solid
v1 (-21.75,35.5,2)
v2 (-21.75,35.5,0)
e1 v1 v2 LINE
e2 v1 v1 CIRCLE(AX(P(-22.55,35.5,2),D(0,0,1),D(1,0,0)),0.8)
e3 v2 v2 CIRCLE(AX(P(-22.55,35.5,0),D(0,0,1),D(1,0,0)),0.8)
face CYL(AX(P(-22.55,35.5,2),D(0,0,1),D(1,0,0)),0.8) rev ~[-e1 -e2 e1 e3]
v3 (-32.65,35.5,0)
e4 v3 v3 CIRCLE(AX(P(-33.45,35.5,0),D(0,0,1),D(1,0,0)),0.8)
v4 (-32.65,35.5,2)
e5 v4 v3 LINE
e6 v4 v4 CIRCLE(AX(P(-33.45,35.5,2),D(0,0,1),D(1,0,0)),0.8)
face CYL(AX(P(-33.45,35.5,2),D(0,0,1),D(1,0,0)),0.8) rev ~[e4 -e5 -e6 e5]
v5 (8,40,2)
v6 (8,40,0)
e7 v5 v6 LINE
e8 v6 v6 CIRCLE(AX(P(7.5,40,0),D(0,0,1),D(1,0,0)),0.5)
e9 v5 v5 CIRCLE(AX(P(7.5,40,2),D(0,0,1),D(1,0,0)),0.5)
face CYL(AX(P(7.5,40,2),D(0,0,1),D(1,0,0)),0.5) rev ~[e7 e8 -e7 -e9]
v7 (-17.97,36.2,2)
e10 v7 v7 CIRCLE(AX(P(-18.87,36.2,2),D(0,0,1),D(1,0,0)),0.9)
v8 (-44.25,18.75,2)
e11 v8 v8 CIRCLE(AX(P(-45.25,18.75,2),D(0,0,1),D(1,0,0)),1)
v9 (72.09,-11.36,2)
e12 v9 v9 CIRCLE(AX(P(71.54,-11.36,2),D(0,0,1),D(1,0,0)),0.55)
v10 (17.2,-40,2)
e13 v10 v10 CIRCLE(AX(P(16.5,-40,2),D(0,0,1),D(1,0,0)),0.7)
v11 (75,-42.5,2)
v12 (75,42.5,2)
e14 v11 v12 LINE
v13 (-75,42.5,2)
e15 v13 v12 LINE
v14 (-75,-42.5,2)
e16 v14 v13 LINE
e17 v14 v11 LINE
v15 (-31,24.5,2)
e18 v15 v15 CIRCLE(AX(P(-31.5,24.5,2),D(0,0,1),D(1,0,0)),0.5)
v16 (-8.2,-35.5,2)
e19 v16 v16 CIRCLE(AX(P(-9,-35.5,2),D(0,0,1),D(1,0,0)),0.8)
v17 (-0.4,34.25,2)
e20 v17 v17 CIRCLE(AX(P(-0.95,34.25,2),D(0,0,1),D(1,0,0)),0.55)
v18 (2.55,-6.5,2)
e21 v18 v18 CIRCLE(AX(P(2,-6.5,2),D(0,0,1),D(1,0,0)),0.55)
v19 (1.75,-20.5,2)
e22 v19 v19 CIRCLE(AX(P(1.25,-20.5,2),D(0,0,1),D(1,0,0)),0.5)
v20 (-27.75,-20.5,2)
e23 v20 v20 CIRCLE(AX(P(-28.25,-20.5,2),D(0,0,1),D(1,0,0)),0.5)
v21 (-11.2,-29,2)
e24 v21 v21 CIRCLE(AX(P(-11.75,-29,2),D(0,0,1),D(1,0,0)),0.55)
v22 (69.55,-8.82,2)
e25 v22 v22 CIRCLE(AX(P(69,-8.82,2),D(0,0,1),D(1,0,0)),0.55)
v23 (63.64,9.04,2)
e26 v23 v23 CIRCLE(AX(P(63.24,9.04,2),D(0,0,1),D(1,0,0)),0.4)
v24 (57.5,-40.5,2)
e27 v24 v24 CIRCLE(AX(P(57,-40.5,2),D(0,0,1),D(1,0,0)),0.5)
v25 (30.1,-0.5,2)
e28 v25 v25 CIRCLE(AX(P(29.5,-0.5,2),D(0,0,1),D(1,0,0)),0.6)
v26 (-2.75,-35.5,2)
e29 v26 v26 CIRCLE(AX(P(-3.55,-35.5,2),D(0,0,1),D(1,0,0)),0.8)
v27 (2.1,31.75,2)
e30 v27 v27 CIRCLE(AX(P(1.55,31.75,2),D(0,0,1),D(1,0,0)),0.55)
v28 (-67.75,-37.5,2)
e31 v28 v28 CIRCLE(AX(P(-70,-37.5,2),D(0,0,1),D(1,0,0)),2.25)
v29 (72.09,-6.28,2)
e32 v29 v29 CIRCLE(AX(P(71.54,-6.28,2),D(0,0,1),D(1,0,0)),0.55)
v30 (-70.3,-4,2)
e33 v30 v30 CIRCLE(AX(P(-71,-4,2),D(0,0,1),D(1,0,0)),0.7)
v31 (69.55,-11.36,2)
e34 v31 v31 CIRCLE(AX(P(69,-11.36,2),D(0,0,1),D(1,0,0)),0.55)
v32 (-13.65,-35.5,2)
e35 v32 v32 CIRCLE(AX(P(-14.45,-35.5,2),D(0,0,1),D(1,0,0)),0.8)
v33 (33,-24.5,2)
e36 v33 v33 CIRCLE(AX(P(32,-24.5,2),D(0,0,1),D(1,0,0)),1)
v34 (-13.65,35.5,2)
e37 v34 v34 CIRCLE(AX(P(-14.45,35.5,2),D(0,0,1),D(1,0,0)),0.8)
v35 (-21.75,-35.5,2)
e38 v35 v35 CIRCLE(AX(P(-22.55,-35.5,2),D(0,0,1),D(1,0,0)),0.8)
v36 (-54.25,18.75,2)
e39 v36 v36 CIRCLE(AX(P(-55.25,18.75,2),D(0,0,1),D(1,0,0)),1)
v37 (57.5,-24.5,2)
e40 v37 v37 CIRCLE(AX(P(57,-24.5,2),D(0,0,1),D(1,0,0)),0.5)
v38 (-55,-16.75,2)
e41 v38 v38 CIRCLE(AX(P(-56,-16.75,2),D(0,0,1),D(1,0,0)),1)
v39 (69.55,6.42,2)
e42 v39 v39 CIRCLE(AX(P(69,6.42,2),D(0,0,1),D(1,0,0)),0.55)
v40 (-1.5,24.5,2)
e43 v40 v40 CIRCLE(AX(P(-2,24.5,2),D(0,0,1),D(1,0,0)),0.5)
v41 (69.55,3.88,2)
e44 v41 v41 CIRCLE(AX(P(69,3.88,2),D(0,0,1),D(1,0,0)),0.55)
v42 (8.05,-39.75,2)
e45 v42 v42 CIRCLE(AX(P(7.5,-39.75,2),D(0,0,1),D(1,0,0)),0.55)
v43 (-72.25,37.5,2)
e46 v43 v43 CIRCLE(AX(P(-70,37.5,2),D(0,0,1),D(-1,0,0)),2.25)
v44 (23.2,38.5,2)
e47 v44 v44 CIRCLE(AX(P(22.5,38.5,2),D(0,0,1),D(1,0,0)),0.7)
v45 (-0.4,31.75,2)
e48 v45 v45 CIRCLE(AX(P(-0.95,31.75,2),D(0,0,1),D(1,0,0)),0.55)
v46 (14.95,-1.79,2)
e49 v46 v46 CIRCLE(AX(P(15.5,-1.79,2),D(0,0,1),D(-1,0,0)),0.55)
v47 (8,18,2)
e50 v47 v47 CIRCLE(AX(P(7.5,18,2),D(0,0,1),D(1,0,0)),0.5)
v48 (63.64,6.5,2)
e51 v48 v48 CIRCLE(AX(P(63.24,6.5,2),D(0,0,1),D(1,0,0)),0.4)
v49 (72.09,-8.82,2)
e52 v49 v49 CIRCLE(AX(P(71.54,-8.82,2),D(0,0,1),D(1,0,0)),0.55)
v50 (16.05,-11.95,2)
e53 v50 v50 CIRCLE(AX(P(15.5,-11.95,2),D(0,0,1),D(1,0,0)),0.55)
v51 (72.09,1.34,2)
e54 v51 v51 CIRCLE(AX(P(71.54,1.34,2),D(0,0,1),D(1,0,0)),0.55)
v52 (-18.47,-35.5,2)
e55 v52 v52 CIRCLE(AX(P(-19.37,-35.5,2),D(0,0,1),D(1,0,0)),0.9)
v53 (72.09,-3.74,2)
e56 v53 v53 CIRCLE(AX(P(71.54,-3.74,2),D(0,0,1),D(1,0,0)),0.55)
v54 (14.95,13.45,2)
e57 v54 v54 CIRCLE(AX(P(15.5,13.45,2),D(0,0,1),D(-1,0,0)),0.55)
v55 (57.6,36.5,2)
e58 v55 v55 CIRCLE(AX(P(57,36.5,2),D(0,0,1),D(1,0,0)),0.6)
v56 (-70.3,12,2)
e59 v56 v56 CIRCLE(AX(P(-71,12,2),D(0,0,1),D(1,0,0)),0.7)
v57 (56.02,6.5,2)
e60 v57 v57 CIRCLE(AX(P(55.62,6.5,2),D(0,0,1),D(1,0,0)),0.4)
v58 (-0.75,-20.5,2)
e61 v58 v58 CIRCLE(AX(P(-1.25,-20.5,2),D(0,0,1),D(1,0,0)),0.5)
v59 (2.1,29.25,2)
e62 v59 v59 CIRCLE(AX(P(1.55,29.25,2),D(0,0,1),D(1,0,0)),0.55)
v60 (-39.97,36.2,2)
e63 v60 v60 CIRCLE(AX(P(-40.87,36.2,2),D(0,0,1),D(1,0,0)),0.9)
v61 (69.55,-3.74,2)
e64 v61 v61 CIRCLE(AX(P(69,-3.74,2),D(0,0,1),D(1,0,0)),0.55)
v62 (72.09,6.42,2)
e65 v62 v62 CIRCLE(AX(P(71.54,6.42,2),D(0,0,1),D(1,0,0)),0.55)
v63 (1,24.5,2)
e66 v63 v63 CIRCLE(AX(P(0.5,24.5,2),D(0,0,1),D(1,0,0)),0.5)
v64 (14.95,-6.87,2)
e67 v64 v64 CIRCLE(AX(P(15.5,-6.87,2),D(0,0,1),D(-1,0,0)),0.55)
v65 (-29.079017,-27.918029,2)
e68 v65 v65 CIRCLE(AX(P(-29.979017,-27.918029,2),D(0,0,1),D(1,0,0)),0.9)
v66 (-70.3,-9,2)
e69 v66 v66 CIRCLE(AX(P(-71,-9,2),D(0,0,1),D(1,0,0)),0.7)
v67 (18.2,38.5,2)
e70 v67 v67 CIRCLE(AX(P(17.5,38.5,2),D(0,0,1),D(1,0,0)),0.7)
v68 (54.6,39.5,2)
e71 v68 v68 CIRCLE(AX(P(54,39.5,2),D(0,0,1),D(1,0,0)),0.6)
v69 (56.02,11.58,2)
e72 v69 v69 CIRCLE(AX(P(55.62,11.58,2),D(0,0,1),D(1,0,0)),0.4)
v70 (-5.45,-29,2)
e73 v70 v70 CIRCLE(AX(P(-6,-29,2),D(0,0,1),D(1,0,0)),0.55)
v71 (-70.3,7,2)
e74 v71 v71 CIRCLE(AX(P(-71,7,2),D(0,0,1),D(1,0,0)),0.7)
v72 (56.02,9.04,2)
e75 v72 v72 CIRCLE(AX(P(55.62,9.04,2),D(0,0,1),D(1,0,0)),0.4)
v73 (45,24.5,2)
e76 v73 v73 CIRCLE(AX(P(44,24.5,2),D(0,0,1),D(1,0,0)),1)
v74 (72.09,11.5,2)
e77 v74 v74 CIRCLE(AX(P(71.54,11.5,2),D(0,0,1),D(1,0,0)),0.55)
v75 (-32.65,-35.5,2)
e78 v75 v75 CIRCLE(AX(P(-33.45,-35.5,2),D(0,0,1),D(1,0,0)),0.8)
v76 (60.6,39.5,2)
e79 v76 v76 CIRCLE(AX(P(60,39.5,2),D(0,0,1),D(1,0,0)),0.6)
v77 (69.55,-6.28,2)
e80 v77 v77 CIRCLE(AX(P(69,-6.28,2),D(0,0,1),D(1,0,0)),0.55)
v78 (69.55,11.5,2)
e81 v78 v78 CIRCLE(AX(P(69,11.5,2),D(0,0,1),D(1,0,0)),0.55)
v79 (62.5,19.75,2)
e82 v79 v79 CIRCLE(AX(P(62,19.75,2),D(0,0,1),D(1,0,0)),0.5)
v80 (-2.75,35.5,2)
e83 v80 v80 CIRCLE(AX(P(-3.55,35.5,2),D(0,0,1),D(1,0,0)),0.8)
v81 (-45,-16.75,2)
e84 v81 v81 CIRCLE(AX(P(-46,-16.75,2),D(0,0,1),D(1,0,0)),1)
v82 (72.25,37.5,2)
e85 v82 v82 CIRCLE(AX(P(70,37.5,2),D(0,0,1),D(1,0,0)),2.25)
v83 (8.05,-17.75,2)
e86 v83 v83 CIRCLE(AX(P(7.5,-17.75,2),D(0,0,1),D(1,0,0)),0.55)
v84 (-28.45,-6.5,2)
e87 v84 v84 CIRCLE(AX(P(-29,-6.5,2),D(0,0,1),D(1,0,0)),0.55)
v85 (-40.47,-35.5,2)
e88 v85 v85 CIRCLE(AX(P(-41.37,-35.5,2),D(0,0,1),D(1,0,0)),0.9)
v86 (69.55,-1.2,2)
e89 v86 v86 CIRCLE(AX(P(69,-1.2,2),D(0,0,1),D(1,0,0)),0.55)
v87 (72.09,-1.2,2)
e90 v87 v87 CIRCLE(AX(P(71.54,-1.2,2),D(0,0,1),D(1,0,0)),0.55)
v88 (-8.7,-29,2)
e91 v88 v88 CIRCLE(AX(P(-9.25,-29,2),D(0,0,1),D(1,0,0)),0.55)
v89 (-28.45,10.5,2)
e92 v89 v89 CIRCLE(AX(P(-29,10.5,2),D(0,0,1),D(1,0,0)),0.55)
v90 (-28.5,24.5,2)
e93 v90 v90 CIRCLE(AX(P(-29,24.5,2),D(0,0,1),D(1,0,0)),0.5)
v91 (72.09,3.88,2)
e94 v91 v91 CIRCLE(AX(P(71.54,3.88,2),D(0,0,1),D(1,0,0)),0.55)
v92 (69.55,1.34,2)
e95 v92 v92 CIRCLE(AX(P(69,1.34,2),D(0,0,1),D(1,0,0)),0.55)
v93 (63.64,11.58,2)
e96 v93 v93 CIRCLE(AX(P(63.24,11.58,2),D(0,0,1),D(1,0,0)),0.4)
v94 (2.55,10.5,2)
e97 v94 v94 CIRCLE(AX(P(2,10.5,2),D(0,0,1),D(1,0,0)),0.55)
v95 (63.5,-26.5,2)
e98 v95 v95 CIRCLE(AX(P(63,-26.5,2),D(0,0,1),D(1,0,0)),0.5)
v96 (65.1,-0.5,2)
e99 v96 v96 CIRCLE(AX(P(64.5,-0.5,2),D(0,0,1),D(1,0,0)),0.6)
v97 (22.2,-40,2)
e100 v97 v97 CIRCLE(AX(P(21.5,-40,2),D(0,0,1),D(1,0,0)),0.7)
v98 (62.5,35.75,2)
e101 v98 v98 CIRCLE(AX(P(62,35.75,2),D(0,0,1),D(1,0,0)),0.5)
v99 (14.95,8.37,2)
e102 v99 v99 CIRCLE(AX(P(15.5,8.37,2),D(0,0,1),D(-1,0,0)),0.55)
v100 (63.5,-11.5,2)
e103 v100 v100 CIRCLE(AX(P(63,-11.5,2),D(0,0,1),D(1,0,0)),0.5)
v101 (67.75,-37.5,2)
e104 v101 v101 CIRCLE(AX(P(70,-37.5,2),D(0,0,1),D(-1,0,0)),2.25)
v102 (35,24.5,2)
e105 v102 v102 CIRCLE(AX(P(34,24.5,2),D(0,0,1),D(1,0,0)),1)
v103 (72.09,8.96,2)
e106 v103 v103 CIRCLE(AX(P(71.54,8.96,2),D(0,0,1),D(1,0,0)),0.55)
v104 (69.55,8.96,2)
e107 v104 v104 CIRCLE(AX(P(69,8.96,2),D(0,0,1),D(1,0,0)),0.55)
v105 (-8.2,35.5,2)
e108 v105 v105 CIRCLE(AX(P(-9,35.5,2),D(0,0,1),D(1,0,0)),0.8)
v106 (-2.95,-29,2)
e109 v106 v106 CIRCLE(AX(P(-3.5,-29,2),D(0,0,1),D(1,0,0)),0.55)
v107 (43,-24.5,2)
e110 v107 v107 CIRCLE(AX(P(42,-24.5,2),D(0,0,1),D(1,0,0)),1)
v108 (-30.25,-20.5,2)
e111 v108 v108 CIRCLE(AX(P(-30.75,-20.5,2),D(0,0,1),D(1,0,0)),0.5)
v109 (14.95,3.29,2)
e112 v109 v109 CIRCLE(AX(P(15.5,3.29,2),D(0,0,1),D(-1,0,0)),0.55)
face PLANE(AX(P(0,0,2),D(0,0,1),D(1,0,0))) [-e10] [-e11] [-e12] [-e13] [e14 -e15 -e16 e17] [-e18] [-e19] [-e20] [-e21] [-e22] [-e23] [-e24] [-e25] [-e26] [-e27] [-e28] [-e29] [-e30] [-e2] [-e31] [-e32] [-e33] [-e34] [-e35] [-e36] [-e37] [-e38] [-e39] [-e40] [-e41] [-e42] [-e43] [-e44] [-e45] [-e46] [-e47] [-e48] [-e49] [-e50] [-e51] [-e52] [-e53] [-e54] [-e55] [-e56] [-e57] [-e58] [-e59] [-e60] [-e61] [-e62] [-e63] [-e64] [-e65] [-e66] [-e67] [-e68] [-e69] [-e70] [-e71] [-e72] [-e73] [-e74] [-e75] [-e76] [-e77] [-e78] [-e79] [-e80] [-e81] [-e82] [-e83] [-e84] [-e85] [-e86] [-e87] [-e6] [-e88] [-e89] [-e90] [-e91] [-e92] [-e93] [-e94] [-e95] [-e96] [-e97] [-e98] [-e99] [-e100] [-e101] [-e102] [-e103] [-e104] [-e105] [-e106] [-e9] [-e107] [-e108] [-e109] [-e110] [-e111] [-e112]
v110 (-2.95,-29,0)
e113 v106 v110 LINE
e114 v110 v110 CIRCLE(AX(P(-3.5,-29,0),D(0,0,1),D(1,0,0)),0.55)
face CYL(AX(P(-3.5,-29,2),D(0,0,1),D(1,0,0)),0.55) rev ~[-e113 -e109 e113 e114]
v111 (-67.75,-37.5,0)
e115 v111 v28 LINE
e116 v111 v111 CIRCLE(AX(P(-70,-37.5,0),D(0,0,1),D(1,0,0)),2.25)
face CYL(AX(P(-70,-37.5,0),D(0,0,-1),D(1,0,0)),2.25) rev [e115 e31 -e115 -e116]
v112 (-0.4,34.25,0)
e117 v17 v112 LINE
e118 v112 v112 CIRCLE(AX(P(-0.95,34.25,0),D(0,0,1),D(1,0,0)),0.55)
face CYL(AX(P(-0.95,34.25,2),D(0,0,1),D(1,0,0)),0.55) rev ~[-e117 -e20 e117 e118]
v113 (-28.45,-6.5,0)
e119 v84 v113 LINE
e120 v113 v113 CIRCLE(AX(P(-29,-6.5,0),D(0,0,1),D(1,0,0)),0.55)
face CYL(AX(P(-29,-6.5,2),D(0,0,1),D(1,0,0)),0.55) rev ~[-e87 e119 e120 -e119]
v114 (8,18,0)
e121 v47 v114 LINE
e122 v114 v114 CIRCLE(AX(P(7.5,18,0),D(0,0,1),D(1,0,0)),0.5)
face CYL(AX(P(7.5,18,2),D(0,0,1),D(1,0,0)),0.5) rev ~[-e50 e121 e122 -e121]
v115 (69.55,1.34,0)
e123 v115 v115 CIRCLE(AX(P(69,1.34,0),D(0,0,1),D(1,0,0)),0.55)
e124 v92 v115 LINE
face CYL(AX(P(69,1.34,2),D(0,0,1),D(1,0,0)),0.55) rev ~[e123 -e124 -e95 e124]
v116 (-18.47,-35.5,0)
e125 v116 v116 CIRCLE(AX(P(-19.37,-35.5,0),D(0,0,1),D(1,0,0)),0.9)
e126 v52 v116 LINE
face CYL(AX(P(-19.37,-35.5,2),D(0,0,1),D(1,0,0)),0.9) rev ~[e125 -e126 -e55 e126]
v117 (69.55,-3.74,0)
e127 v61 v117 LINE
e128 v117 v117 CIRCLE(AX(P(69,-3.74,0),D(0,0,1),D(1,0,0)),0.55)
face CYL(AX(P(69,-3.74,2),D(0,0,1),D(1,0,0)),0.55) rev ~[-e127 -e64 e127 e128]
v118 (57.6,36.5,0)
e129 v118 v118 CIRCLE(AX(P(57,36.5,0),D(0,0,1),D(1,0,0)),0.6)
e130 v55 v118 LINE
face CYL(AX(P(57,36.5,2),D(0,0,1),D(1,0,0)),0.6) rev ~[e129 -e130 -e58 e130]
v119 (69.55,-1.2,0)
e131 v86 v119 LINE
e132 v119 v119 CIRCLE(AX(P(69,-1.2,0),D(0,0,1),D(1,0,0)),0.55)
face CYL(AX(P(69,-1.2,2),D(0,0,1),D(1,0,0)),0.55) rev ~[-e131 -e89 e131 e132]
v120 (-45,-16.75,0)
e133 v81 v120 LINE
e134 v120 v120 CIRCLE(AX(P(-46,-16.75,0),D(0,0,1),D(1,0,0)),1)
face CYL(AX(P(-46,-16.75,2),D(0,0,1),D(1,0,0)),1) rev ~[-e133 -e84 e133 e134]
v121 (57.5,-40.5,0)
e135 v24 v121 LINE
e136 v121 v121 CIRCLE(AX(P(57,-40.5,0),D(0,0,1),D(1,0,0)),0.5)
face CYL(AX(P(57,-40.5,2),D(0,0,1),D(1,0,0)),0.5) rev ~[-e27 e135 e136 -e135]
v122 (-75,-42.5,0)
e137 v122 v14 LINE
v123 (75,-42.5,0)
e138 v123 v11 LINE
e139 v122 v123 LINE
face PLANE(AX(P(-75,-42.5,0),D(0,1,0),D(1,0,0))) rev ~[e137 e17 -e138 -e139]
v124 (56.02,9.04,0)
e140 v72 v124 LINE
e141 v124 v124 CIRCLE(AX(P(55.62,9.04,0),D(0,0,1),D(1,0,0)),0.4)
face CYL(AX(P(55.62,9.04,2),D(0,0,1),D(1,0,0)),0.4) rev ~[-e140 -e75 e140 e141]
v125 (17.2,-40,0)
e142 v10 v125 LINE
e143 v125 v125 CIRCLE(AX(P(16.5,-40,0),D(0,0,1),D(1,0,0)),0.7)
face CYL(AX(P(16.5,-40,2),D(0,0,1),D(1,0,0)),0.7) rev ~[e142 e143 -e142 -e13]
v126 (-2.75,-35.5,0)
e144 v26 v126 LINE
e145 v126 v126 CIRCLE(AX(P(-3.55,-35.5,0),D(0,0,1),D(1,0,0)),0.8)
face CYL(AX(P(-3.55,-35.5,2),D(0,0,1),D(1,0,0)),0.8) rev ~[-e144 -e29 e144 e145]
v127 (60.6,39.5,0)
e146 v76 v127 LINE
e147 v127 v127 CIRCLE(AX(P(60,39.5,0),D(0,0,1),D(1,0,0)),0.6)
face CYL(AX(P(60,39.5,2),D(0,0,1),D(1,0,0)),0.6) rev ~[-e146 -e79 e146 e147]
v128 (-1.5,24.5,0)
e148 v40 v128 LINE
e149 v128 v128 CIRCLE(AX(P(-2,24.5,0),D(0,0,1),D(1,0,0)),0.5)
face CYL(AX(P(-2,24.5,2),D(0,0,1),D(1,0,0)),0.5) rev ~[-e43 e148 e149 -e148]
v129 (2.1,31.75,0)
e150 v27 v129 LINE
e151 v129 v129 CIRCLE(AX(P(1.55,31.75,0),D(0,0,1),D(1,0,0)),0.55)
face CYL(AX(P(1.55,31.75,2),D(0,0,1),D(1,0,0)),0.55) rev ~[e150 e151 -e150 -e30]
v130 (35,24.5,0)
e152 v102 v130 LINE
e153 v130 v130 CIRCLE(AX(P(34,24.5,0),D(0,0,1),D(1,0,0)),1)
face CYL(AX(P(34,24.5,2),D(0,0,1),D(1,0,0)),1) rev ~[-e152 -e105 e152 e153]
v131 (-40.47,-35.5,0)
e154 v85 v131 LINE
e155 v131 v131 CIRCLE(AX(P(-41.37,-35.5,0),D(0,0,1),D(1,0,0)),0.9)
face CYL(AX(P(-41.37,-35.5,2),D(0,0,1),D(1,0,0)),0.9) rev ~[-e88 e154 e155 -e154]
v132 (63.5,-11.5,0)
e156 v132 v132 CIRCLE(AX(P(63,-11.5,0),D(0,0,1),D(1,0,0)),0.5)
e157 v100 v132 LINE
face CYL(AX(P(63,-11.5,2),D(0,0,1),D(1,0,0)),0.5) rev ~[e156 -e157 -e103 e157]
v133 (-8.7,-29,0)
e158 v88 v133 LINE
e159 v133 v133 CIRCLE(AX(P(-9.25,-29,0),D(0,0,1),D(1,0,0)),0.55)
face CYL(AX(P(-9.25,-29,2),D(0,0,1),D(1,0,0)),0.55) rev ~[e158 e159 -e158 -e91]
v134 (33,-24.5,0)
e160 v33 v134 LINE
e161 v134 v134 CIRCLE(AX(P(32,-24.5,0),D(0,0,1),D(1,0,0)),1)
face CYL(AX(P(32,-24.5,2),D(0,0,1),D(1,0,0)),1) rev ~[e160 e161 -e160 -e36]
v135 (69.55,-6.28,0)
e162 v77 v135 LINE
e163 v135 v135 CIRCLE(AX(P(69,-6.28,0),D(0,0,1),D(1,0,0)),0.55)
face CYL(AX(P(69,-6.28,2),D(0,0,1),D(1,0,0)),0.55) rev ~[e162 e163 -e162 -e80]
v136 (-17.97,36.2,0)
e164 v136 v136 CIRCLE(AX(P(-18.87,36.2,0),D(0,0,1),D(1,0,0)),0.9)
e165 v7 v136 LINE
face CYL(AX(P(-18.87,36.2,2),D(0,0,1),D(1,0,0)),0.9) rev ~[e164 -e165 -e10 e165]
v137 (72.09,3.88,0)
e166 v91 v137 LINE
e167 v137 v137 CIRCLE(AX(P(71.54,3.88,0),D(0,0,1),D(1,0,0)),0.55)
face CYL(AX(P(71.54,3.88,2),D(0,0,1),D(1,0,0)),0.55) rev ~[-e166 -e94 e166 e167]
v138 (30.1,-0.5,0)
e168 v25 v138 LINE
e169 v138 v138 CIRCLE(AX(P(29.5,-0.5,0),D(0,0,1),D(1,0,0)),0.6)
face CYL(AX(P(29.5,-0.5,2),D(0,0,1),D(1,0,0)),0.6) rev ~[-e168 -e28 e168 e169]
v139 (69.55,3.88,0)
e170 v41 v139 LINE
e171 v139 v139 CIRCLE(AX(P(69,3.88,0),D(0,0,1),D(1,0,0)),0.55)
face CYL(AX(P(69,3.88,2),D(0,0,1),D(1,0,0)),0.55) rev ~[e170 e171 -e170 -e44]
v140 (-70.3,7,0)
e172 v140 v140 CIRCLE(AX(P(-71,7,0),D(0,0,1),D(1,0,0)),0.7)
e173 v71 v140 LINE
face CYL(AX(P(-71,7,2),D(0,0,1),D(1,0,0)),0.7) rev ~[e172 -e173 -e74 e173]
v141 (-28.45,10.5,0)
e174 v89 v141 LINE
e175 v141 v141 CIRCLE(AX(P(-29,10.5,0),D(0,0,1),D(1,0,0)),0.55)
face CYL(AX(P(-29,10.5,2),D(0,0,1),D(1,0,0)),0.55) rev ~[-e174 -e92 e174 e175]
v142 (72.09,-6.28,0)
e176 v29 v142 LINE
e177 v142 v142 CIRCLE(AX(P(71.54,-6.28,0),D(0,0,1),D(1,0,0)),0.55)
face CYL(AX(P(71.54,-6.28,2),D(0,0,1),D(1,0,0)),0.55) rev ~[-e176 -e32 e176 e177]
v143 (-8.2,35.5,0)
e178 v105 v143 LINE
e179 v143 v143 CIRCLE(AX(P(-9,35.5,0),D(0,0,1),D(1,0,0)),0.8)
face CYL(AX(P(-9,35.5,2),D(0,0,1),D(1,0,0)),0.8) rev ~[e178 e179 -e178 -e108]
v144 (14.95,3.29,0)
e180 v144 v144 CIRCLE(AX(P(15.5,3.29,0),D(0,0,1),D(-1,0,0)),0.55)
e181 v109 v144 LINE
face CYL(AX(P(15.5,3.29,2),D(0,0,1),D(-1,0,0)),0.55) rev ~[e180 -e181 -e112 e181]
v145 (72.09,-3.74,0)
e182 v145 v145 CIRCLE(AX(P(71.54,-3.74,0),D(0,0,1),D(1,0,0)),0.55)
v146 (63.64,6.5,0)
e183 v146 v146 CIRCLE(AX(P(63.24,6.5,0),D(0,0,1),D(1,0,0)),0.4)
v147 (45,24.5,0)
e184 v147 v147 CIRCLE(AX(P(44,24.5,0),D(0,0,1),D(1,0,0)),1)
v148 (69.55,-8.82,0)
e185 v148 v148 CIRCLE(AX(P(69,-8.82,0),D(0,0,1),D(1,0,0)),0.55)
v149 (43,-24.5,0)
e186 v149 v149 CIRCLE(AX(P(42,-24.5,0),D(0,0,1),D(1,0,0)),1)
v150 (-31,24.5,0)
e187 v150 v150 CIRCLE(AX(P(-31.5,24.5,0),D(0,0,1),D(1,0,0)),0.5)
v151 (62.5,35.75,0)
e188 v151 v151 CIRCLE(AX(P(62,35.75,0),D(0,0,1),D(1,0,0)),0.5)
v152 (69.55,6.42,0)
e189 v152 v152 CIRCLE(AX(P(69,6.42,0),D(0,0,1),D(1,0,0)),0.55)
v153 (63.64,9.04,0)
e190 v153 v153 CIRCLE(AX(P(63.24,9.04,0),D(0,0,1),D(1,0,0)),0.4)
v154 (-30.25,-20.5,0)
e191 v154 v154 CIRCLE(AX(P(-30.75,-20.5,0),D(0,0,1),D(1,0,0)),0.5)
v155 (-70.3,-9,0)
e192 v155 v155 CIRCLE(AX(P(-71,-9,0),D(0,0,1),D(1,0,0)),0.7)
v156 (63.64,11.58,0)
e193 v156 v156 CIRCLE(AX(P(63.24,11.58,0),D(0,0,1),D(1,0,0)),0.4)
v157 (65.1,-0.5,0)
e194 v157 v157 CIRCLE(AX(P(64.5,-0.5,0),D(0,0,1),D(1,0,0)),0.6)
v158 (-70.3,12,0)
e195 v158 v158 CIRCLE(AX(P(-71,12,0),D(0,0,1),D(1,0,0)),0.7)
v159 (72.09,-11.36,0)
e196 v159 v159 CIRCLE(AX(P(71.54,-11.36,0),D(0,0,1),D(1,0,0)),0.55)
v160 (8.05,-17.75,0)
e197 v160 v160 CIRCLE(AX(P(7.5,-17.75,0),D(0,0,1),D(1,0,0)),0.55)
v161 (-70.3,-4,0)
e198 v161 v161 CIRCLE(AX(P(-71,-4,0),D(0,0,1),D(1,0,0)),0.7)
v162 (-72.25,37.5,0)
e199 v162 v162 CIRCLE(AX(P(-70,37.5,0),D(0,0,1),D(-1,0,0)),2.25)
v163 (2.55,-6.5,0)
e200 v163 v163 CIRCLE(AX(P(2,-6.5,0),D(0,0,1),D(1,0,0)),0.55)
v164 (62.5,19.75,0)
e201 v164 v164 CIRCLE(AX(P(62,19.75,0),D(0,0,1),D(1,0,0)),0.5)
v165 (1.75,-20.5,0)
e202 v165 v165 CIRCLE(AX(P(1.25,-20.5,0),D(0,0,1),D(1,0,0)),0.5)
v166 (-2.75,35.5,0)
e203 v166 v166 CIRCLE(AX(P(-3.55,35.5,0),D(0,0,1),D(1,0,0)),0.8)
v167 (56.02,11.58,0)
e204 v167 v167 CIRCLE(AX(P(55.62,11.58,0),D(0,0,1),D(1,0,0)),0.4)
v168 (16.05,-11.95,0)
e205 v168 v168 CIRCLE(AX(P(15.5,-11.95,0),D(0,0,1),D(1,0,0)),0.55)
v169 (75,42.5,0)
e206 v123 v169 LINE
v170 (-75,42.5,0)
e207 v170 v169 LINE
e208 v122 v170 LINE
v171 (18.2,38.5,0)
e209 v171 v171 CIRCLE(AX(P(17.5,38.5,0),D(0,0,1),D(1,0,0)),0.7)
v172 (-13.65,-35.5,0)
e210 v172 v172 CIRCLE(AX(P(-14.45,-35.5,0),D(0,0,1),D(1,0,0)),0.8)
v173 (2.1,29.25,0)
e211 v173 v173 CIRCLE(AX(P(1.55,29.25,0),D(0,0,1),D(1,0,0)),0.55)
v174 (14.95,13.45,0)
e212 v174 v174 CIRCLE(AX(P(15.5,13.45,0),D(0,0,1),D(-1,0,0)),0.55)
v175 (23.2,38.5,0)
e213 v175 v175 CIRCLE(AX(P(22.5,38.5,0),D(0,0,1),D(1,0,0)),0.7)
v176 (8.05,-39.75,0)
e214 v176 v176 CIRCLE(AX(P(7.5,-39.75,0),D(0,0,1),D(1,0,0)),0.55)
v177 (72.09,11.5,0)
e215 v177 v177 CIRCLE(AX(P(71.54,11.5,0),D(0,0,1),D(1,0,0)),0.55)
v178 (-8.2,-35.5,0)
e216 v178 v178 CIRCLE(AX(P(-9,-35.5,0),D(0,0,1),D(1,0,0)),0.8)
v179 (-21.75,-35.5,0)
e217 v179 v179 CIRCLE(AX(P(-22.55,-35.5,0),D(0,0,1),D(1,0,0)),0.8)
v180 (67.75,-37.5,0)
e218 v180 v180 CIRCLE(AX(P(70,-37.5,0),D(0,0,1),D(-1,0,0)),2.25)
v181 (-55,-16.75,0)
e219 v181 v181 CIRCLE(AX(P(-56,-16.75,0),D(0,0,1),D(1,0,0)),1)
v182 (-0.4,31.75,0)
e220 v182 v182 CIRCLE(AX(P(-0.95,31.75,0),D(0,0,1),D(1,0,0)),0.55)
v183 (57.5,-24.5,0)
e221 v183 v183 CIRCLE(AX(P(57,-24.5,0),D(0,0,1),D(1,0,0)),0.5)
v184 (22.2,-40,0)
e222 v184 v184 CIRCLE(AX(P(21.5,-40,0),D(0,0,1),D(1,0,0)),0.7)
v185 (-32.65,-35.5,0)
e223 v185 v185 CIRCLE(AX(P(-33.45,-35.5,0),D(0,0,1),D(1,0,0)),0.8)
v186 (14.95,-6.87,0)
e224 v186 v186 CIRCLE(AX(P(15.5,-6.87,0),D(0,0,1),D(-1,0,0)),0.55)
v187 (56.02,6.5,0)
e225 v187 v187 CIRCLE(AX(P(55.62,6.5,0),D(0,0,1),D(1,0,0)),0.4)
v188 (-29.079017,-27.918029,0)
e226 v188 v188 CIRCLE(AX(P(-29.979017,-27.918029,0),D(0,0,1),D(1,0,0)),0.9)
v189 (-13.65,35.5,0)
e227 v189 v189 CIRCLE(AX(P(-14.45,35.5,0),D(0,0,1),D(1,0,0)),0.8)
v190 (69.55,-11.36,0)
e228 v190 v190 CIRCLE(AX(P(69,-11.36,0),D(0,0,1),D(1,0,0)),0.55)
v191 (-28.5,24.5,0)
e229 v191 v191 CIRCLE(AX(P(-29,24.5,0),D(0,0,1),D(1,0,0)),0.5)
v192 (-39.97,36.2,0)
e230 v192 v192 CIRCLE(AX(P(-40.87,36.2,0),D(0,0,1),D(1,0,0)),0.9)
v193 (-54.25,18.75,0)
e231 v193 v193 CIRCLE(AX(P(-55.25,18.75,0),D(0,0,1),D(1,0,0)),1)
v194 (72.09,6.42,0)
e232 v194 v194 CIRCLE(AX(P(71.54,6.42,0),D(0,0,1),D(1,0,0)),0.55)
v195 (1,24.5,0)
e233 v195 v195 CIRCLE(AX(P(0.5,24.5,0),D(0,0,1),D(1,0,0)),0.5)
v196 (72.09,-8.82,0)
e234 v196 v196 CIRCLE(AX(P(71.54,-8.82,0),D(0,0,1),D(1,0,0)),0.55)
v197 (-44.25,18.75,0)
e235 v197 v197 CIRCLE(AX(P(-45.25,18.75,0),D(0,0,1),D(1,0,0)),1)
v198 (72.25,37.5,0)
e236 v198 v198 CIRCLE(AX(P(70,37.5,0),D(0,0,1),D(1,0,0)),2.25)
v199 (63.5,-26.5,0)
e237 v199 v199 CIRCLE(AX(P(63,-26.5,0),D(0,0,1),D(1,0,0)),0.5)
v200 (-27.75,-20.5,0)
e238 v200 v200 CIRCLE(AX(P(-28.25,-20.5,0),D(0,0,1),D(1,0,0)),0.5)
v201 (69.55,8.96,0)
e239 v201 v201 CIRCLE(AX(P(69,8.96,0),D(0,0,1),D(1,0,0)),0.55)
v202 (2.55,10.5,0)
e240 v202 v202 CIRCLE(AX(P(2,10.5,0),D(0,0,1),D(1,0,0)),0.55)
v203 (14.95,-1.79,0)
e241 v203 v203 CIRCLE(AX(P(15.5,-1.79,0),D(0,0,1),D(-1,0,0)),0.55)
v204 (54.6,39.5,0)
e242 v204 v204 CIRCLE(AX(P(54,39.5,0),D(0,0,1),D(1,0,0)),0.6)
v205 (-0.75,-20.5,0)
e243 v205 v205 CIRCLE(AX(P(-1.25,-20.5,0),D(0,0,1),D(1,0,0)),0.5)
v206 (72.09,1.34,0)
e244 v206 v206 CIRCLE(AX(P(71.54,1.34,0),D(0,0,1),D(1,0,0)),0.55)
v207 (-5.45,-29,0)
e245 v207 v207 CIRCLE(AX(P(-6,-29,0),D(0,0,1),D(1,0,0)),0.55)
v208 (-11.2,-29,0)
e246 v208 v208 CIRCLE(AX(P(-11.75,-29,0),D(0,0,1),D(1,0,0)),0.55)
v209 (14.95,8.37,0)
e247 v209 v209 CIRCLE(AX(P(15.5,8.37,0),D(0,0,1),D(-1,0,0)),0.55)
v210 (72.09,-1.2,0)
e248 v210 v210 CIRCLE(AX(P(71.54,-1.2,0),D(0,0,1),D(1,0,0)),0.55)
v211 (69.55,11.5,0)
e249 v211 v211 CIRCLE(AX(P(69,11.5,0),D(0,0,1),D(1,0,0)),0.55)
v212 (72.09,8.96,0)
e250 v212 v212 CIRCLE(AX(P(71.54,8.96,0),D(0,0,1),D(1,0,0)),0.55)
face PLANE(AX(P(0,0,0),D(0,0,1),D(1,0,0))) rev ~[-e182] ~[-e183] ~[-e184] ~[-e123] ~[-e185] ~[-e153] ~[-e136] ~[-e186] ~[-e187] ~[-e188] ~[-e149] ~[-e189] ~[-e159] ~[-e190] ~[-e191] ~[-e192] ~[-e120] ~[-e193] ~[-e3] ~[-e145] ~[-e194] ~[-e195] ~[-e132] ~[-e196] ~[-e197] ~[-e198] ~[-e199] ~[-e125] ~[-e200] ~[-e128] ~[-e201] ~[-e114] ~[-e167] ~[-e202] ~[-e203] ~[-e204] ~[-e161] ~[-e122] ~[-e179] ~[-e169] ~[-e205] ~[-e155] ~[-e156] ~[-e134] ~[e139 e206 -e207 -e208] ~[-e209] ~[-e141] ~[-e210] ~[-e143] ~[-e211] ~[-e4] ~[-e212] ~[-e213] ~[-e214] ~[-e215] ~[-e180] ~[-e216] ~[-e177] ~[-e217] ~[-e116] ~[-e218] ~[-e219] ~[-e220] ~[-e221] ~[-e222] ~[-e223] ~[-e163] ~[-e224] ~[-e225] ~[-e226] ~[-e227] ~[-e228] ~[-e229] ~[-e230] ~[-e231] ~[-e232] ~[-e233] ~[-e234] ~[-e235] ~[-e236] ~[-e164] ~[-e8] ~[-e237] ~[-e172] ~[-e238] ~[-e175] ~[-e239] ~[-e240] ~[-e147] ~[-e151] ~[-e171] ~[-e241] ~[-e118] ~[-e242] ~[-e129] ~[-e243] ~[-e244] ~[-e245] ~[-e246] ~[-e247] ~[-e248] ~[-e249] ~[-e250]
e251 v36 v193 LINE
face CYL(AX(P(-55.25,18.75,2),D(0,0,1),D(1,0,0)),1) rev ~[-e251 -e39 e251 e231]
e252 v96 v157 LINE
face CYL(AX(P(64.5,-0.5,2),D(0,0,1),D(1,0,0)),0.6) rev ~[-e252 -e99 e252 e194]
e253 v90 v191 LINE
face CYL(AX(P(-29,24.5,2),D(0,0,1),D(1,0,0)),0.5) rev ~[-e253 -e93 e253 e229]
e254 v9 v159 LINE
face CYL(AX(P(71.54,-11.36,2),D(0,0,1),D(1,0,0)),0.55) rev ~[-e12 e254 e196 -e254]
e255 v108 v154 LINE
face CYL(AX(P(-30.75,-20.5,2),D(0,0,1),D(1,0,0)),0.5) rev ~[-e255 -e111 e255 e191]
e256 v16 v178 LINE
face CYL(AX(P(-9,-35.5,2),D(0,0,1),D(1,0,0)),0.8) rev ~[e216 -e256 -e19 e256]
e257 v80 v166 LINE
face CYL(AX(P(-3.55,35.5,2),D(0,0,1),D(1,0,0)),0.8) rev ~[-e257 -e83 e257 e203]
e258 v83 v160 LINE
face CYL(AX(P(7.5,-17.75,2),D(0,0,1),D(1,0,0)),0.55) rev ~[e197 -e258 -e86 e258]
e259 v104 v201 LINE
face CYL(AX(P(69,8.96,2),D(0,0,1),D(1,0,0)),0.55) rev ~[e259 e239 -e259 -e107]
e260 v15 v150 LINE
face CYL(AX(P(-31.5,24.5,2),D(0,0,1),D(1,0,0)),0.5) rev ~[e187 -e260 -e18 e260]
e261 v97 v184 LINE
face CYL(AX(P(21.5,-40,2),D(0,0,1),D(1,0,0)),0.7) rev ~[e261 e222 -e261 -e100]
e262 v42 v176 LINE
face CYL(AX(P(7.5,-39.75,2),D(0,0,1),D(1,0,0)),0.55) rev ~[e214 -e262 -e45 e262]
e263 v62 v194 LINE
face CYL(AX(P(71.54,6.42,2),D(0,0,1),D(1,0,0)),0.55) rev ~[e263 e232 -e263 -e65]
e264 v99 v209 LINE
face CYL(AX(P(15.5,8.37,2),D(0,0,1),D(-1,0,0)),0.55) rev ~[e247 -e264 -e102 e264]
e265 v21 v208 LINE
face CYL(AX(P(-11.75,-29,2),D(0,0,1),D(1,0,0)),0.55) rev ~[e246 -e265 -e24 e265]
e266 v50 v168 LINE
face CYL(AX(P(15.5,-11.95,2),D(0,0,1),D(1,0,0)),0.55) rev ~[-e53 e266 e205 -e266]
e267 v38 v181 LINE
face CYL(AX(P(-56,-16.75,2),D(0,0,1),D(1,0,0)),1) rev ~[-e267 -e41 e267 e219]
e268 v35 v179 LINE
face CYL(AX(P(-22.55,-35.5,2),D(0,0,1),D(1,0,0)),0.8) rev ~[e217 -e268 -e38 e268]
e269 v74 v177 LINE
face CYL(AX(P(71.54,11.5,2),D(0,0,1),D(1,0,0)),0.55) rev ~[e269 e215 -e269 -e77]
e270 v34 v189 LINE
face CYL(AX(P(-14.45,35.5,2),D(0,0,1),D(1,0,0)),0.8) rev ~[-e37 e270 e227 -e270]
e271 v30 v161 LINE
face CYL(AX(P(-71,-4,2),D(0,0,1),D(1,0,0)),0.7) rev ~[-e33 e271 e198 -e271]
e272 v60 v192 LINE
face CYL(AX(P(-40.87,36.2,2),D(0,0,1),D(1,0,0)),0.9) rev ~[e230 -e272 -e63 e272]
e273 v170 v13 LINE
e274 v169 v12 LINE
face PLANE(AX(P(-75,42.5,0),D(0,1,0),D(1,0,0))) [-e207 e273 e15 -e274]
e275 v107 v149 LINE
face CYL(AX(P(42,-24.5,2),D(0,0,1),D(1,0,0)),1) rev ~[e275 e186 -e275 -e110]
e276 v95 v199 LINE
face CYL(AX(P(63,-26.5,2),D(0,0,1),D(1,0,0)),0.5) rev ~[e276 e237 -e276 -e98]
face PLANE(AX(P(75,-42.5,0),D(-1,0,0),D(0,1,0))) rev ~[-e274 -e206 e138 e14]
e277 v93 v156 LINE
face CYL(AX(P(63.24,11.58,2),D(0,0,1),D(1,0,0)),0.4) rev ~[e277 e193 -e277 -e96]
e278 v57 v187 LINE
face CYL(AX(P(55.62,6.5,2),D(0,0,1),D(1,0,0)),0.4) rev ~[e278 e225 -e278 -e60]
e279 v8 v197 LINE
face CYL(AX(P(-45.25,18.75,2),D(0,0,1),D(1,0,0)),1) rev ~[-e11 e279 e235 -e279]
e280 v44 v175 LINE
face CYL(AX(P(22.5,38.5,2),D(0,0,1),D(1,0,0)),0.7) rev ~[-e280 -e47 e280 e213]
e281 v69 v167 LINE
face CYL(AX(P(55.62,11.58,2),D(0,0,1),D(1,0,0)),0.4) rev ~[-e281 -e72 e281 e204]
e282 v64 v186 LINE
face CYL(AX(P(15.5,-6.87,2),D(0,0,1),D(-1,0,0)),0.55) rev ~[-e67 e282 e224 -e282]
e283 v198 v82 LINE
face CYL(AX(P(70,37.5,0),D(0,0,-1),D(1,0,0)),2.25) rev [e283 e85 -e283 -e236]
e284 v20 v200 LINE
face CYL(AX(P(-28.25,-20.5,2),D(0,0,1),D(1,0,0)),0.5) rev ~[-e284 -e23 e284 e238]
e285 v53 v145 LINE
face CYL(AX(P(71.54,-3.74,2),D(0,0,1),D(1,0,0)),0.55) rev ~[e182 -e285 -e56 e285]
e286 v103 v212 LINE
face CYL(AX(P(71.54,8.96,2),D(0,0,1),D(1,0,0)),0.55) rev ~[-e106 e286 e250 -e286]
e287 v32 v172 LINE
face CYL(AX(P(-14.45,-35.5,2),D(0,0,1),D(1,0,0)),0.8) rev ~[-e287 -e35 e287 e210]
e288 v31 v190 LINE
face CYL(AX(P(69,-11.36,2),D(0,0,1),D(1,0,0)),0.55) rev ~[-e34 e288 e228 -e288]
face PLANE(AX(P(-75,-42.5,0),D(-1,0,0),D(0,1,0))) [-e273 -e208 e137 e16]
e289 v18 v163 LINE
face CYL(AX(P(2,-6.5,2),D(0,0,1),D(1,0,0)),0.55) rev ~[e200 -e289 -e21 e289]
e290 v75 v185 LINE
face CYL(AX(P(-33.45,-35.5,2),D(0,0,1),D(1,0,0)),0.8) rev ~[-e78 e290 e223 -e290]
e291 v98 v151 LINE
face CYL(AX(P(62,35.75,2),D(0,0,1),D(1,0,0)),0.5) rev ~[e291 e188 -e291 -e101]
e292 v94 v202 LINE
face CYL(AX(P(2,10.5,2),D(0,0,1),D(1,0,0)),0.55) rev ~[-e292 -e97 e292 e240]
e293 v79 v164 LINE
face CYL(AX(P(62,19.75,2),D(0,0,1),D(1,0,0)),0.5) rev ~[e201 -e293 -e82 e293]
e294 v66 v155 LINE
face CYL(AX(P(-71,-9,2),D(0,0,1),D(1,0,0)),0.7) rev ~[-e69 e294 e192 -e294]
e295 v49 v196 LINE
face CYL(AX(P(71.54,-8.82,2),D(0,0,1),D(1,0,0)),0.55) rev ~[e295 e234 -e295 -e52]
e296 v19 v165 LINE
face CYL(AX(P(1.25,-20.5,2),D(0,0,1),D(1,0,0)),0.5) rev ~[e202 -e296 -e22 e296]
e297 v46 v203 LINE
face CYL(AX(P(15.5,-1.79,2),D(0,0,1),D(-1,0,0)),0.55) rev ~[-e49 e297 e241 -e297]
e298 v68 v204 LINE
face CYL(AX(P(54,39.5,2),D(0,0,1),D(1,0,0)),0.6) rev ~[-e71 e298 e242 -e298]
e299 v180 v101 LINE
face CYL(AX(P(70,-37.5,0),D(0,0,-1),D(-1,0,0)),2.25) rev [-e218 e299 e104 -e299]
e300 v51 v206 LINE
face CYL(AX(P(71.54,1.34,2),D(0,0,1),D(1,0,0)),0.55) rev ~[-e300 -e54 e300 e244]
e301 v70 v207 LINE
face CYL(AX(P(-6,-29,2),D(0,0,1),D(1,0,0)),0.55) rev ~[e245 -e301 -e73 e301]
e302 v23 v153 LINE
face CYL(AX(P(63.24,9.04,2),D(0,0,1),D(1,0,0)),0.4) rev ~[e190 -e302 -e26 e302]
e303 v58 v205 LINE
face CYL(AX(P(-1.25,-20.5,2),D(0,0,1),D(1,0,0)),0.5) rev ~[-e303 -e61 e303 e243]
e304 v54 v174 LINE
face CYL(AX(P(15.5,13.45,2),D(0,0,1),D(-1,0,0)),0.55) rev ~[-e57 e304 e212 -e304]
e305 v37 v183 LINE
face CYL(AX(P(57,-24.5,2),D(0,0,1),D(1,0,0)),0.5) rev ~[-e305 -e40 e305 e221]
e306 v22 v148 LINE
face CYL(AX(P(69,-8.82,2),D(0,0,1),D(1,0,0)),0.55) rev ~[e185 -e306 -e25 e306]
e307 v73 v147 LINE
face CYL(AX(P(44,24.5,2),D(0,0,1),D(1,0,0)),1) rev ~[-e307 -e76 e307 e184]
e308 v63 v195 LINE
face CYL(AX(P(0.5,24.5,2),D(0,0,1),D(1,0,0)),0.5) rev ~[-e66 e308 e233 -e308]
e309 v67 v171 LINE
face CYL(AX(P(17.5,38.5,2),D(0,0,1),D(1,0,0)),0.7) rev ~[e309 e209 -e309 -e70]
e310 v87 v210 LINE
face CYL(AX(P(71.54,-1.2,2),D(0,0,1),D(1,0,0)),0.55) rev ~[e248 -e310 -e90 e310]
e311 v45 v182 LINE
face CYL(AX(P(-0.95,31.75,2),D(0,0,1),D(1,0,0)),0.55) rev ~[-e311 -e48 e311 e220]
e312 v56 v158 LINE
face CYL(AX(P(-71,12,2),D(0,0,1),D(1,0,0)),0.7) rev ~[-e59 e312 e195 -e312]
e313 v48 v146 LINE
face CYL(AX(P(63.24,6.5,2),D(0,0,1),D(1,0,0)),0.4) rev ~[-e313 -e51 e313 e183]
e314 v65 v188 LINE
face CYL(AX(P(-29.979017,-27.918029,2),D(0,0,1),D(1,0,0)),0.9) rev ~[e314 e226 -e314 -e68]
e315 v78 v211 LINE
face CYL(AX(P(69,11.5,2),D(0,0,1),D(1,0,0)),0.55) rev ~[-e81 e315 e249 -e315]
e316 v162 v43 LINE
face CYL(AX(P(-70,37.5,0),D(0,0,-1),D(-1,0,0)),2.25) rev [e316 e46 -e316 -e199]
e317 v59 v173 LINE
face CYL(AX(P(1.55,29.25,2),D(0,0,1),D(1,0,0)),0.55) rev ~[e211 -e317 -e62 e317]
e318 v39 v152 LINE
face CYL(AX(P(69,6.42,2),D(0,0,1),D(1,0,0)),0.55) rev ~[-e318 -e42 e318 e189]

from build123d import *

# Parameters (mm, degrees)
SKETCH_1_W          = 150
SKETCH_1_H          = 85
SKETCH_1_R          = 2.25
EXTRUDE_1_DEPTH     = 2
SKETCH_2_R          = 0.55
SKETCH_2_R_2        = 0.5
SKETCH_2_R_3        = 0.8
CUT_EXTRUDE_1_DEPTH = 2
SKETCH_3_R          = 1
SKETCH_3_R_2        = 0.6
SKETCH_3_R_3        = 0.7
SKETCH_3_R_4        = 0.5
SKETCH_3_R_5        = 0.4
CUT_EXTRUDE_2_DEPTH = 10
SKETCH_4_R          = 0.9
SKETCH_4_R_2        = 0.5
SKETCH_4_R_3        = 0.55
CUT_EXTRUDE_3_DEPTH = 10


with BuildPart() as part:
    # Эскиз1 → Вытянуть1 (new body)
    with BuildSketch(Plane.XY):
        Rectangle(SKETCH_1_W, SKETCH_1_H)
        with Locations((-70, -37.5)):
            Circle(SKETCH_1_R, mode=Mode.SUBTRACT)
        with Locations(Location((70, -37.5, 0), (0, 0, 180))):
            Circle(SKETCH_1_R, mode=Mode.SUBTRACT)
        with Locations((70, 37.5)):
            Circle(SKETCH_1_R, mode=Mode.SUBTRACT)
        with Locations(Location((-70, 37.5, 0), (0, 0, 180))):
            Circle(SKETCH_1_R, mode=Mode.SUBTRACT)
    extrude(amount=EXTRUDE_1_DEPTH)

    # Эскиз2 → Вырез-Вытянуть1 (cut)
    with BuildSketch(Plane.XY.offset(2)):
        with Locations((69, 11.5)):
            Circle(SKETCH_2_R)
        with Locations((71.54, 11.5)):
            Circle(SKETCH_2_R)
        with Locations((69, 8.96)):
            Circle(SKETCH_2_R)
        with Locations((71.54, 8.96)):
            Circle(SKETCH_2_R)
        with Locations((69, 6.42)):
            Circle(SKETCH_2_R)
        with Locations((71.54, 6.42)):
            Circle(SKETCH_2_R)
        with Locations((69, 3.88)):
            Circle(SKETCH_2_R)
        with Locations((71.54, 3.88)):
            Circle(SKETCH_2_R)
        with Locations((69, 1.34)):
            Circle(SKETCH_2_R)
        with Locations((71.54, 1.34)):
            Circle(SKETCH_2_R)
        with Locations((69, -1.2)):
            Circle(SKETCH_2_R)
        with Locations((71.54, -1.2)):
            Circle(SKETCH_2_R)
        with Locations((69, -3.74)):
            Circle(SKETCH_2_R)
        with Locations((71.54, -3.74)):
            Circle(SKETCH_2_R)
        with Locations((69, -6.28)):
            Circle(SKETCH_2_R)
        with Locations((71.54, -6.28)):
            Circle(SKETCH_2_R)
        with Locations((69, -8.82)):
            Circle(SKETCH_2_R)
        with Locations((71.54, -8.82)):
            Circle(SKETCH_2_R)
        with Locations((69, -11.36)):
            Circle(SKETCH_2_R)
        with Locations((71.54, -11.36)):
            Circle(SKETCH_2_R)
        with Locations((63, -26.5)):
            Circle(SKETCH_2_R_2)
        with Locations((63, -11.5)):
            Circle(SKETCH_2_R_2)
        with Locations((-14.45, 35.5)):
            Circle(SKETCH_2_R_3)
        with Locations((-9, 35.5)):
            Circle(SKETCH_2_R_3)
        with Locations((-3.55, 35.5)):
            Circle(SKETCH_2_R_3)
        with Locations((-33.45, 35.5)):
            Circle(SKETCH_2_R_3)
        with Locations((-22.55, 35.5)):
            Circle(SKETCH_2_R_3)
        with Locations((-33.45, -35.5)):
            Circle(SKETCH_2_R_3)
        with Locations((-22.55, -35.5)):
            Circle(SKETCH_2_R_3)
        with Locations((-14.45, -35.5)):
            Circle(SKETCH_2_R_3)
        with Locations((-9, -35.5)):
            Circle(SKETCH_2_R_3)
        with Locations((-3.55, -35.5)):
            Circle(SKETCH_2_R_3)
        with Locations(Location((15.5, 13.45, 0), (0, 0, 180))):
            Circle(SKETCH_2_R)
        with Locations(Location((15.5, 8.37, 0), (0, 0, 180))):
            Circle(SKETCH_2_R)
        with Locations(Location((15.5, -1.79, 0), (0, 0, 180))):
            Circle(SKETCH_2_R)
        with Locations(Location((15.5, 3.29, 0), (0, 0, 180))):
            Circle(SKETCH_2_R)
        with Locations(Location((15.5, -6.87, 0), (0, 0, 180))):
            Circle(SKETCH_2_R)
        with Locations((15.5, -11.95)):
            Circle(SKETCH_2_R)
    extrude(amount=-CUT_EXTRUDE_1_DEPTH, mode=Mode.SUBTRACT)

    # Эскиз3 → Вырез-Вытянуть2 (cut)
    with BuildSketch(Plane.XY.offset(2)):
        with Locations((-55.25, 18.75)):
            Circle(SKETCH_3_R)
        with Locations((-45.25, 18.75)):
            Circle(SKETCH_3_R)
        with Locations((-56, -16.75)):
            Circle(SKETCH_3_R)
        with Locations((-46, -16.75)):
            Circle(SKETCH_3_R)
        with Locations((54, 39.5)):
            Circle(SKETCH_3_R_2)
        with Locations((60, 39.5)):
            Circle(SKETCH_3_R_2)
        with Locations((16.5, -40)):
            Circle(SKETCH_3_R_3)
        with Locations((21.5, -40)):
            Circle(SKETCH_3_R_3)
        with Locations((-71, 7)):
            Circle(SKETCH_3_R_3)
        with Locations((-71, 12)):
            Circle(SKETCH_3_R_3)
        with Locations((-71, -9)):
            Circle(SKETCH_3_R_3)
        with Locations((-71, -4)):
            Circle(SKETCH_3_R_3)
        with Locations((57, -40.5)):
            Circle(SKETCH_3_R_4)
        with Locations((57, -24.5)):
            Circle(SKETCH_3_R_4)
        with Locations((34, 24.5)):
            Circle(SKETCH_3_R)
        with Locations((44, 24.5)):
            Circle(SKETCH_3_R)
        with Locations((32, -24.5)):
            Circle(SKETCH_3_R)
        with Locations((42, -24.5)):
            Circle(SKETCH_3_R)
        with Locations((57, 36.5)):
            Circle(SKETCH_3_R_2)
        with Locations((17.5, 38.5)):
            Circle(SKETCH_3_R_3)
        with Locations((62, 19.75)):
            Circle(SKETCH_3_R_4)
        with Locations((62, 35.75)):
            Circle(SKETCH_3_R_4)
        with Locations((63.24, 11.58)):
            Circle(SKETCH_3_R_5)
        with Locations((63.24, 6.5)):
            Circle(SKETCH_3_R_5)
        with Locations((55.62, 9.04)):
            Circle(SKETCH_3_R_5)
        with Locations((63.24, 9.04)):
            Circle(SKETCH_3_R_5)
        with Locations((55.62, 6.5)):
            Circle(SKETCH_3_R_5)
        with Locations((55.62, 11.58)):
            Circle(SKETCH_3_R_5)
        with Locations((22.5, 38.5)):
            Circle(SKETCH_3_R_3)
        with Locations((64.5, -0.5)):
            Circle(SKETCH_3_R_2)
        with Locations((29.5, -0.5)):
            Circle(SKETCH_3_R_2)
    extrude(amount=-CUT_EXTRUDE_2_DEPTH, mode=Mode.SUBTRACT)

    # Эскиз4 → Вырез-Вытянуть3 (cut)
    with BuildSketch(Plane.XY.offset(2)):
        with Locations((-41.37, -35.5)):
            Circle(SKETCH_4_R)
        with Locations((-40.87, 36.2)):
            Circle(SKETCH_4_R)
        with Locations((-31.5, 24.5)):
            Circle(SKETCH_4_R_2)
        with Locations((-19.37, -35.5)):
            Circle(SKETCH_4_R)
        with Locations((-6, -29)):
            Circle(SKETCH_4_R_3)
        with Locations((-18.87, 36.2)):
            Circle(SKETCH_4_R)
        with Locations((0.5, 24.5)):
            Circle(SKETCH_4_R_2)
        with Locations((-29, 24.5)):
            Circle(SKETCH_4_R_2)
        with Locations((-0.95, 31.75)):
            Circle(SKETCH_4_R_3)
        with Locations((1.55, 31.75)):
            Circle(SKETCH_4_R_3)
        with Locations((-2, 24.5)):
            Circle(SKETCH_4_R_2)
        with Locations((7.5, -39.75)):
            Circle(SKETCH_4_R_3)
        with Locations((7.5, -17.75)):
            Circle(SKETCH_4_R_3)
        with Locations((-29.979016563, -27.918029446)):
            Circle(SKETCH_4_R)
        with Locations((-11.75, -29)):
            Circle(SKETCH_4_R_3)
        with Locations((7.5, 18)):
            Circle(SKETCH_4_R_2)
        with Locations((7.5, 40)):
            Circle(SKETCH_4_R_2)
        with Locations((-9.25, -29)):
            Circle(SKETCH_4_R_3)
        with Locations((-3.5, -29)):
            Circle(SKETCH_4_R_3)
        with Locations((-29, 10.5)):
            Circle(SKETCH_4_R_3)
        with Locations((2, 10.5)):
            Circle(SKETCH_4_R_3)
        with Locations((-0.95, 34.25)):
            Circle(SKETCH_4_R_3)
        with Locations((1.55, 29.25)):
            Circle(SKETCH_4_R_3)
        with Locations((-29, -6.5)):
            Circle(SKETCH_4_R_3)
        with Locations((2, -6.5)):
            Circle(SKETCH_4_R_3)
        with Locations((-30.75, -20.5)):
            Circle(SKETCH_4_R_2)
        with Locations((1.25, -20.5)):
            Circle(SKETCH_4_R_2)
        with Locations((-28.25, -20.5)):
            Circle(SKETCH_4_R_2)
        with Locations((-1.25, -20.5)):
            Circle(SKETCH_4_R_2)
    extrude(amount=-CUT_EXTRUDE_3_DEPTH, mode=Mode.SUBTRACT)


solid = part.part
